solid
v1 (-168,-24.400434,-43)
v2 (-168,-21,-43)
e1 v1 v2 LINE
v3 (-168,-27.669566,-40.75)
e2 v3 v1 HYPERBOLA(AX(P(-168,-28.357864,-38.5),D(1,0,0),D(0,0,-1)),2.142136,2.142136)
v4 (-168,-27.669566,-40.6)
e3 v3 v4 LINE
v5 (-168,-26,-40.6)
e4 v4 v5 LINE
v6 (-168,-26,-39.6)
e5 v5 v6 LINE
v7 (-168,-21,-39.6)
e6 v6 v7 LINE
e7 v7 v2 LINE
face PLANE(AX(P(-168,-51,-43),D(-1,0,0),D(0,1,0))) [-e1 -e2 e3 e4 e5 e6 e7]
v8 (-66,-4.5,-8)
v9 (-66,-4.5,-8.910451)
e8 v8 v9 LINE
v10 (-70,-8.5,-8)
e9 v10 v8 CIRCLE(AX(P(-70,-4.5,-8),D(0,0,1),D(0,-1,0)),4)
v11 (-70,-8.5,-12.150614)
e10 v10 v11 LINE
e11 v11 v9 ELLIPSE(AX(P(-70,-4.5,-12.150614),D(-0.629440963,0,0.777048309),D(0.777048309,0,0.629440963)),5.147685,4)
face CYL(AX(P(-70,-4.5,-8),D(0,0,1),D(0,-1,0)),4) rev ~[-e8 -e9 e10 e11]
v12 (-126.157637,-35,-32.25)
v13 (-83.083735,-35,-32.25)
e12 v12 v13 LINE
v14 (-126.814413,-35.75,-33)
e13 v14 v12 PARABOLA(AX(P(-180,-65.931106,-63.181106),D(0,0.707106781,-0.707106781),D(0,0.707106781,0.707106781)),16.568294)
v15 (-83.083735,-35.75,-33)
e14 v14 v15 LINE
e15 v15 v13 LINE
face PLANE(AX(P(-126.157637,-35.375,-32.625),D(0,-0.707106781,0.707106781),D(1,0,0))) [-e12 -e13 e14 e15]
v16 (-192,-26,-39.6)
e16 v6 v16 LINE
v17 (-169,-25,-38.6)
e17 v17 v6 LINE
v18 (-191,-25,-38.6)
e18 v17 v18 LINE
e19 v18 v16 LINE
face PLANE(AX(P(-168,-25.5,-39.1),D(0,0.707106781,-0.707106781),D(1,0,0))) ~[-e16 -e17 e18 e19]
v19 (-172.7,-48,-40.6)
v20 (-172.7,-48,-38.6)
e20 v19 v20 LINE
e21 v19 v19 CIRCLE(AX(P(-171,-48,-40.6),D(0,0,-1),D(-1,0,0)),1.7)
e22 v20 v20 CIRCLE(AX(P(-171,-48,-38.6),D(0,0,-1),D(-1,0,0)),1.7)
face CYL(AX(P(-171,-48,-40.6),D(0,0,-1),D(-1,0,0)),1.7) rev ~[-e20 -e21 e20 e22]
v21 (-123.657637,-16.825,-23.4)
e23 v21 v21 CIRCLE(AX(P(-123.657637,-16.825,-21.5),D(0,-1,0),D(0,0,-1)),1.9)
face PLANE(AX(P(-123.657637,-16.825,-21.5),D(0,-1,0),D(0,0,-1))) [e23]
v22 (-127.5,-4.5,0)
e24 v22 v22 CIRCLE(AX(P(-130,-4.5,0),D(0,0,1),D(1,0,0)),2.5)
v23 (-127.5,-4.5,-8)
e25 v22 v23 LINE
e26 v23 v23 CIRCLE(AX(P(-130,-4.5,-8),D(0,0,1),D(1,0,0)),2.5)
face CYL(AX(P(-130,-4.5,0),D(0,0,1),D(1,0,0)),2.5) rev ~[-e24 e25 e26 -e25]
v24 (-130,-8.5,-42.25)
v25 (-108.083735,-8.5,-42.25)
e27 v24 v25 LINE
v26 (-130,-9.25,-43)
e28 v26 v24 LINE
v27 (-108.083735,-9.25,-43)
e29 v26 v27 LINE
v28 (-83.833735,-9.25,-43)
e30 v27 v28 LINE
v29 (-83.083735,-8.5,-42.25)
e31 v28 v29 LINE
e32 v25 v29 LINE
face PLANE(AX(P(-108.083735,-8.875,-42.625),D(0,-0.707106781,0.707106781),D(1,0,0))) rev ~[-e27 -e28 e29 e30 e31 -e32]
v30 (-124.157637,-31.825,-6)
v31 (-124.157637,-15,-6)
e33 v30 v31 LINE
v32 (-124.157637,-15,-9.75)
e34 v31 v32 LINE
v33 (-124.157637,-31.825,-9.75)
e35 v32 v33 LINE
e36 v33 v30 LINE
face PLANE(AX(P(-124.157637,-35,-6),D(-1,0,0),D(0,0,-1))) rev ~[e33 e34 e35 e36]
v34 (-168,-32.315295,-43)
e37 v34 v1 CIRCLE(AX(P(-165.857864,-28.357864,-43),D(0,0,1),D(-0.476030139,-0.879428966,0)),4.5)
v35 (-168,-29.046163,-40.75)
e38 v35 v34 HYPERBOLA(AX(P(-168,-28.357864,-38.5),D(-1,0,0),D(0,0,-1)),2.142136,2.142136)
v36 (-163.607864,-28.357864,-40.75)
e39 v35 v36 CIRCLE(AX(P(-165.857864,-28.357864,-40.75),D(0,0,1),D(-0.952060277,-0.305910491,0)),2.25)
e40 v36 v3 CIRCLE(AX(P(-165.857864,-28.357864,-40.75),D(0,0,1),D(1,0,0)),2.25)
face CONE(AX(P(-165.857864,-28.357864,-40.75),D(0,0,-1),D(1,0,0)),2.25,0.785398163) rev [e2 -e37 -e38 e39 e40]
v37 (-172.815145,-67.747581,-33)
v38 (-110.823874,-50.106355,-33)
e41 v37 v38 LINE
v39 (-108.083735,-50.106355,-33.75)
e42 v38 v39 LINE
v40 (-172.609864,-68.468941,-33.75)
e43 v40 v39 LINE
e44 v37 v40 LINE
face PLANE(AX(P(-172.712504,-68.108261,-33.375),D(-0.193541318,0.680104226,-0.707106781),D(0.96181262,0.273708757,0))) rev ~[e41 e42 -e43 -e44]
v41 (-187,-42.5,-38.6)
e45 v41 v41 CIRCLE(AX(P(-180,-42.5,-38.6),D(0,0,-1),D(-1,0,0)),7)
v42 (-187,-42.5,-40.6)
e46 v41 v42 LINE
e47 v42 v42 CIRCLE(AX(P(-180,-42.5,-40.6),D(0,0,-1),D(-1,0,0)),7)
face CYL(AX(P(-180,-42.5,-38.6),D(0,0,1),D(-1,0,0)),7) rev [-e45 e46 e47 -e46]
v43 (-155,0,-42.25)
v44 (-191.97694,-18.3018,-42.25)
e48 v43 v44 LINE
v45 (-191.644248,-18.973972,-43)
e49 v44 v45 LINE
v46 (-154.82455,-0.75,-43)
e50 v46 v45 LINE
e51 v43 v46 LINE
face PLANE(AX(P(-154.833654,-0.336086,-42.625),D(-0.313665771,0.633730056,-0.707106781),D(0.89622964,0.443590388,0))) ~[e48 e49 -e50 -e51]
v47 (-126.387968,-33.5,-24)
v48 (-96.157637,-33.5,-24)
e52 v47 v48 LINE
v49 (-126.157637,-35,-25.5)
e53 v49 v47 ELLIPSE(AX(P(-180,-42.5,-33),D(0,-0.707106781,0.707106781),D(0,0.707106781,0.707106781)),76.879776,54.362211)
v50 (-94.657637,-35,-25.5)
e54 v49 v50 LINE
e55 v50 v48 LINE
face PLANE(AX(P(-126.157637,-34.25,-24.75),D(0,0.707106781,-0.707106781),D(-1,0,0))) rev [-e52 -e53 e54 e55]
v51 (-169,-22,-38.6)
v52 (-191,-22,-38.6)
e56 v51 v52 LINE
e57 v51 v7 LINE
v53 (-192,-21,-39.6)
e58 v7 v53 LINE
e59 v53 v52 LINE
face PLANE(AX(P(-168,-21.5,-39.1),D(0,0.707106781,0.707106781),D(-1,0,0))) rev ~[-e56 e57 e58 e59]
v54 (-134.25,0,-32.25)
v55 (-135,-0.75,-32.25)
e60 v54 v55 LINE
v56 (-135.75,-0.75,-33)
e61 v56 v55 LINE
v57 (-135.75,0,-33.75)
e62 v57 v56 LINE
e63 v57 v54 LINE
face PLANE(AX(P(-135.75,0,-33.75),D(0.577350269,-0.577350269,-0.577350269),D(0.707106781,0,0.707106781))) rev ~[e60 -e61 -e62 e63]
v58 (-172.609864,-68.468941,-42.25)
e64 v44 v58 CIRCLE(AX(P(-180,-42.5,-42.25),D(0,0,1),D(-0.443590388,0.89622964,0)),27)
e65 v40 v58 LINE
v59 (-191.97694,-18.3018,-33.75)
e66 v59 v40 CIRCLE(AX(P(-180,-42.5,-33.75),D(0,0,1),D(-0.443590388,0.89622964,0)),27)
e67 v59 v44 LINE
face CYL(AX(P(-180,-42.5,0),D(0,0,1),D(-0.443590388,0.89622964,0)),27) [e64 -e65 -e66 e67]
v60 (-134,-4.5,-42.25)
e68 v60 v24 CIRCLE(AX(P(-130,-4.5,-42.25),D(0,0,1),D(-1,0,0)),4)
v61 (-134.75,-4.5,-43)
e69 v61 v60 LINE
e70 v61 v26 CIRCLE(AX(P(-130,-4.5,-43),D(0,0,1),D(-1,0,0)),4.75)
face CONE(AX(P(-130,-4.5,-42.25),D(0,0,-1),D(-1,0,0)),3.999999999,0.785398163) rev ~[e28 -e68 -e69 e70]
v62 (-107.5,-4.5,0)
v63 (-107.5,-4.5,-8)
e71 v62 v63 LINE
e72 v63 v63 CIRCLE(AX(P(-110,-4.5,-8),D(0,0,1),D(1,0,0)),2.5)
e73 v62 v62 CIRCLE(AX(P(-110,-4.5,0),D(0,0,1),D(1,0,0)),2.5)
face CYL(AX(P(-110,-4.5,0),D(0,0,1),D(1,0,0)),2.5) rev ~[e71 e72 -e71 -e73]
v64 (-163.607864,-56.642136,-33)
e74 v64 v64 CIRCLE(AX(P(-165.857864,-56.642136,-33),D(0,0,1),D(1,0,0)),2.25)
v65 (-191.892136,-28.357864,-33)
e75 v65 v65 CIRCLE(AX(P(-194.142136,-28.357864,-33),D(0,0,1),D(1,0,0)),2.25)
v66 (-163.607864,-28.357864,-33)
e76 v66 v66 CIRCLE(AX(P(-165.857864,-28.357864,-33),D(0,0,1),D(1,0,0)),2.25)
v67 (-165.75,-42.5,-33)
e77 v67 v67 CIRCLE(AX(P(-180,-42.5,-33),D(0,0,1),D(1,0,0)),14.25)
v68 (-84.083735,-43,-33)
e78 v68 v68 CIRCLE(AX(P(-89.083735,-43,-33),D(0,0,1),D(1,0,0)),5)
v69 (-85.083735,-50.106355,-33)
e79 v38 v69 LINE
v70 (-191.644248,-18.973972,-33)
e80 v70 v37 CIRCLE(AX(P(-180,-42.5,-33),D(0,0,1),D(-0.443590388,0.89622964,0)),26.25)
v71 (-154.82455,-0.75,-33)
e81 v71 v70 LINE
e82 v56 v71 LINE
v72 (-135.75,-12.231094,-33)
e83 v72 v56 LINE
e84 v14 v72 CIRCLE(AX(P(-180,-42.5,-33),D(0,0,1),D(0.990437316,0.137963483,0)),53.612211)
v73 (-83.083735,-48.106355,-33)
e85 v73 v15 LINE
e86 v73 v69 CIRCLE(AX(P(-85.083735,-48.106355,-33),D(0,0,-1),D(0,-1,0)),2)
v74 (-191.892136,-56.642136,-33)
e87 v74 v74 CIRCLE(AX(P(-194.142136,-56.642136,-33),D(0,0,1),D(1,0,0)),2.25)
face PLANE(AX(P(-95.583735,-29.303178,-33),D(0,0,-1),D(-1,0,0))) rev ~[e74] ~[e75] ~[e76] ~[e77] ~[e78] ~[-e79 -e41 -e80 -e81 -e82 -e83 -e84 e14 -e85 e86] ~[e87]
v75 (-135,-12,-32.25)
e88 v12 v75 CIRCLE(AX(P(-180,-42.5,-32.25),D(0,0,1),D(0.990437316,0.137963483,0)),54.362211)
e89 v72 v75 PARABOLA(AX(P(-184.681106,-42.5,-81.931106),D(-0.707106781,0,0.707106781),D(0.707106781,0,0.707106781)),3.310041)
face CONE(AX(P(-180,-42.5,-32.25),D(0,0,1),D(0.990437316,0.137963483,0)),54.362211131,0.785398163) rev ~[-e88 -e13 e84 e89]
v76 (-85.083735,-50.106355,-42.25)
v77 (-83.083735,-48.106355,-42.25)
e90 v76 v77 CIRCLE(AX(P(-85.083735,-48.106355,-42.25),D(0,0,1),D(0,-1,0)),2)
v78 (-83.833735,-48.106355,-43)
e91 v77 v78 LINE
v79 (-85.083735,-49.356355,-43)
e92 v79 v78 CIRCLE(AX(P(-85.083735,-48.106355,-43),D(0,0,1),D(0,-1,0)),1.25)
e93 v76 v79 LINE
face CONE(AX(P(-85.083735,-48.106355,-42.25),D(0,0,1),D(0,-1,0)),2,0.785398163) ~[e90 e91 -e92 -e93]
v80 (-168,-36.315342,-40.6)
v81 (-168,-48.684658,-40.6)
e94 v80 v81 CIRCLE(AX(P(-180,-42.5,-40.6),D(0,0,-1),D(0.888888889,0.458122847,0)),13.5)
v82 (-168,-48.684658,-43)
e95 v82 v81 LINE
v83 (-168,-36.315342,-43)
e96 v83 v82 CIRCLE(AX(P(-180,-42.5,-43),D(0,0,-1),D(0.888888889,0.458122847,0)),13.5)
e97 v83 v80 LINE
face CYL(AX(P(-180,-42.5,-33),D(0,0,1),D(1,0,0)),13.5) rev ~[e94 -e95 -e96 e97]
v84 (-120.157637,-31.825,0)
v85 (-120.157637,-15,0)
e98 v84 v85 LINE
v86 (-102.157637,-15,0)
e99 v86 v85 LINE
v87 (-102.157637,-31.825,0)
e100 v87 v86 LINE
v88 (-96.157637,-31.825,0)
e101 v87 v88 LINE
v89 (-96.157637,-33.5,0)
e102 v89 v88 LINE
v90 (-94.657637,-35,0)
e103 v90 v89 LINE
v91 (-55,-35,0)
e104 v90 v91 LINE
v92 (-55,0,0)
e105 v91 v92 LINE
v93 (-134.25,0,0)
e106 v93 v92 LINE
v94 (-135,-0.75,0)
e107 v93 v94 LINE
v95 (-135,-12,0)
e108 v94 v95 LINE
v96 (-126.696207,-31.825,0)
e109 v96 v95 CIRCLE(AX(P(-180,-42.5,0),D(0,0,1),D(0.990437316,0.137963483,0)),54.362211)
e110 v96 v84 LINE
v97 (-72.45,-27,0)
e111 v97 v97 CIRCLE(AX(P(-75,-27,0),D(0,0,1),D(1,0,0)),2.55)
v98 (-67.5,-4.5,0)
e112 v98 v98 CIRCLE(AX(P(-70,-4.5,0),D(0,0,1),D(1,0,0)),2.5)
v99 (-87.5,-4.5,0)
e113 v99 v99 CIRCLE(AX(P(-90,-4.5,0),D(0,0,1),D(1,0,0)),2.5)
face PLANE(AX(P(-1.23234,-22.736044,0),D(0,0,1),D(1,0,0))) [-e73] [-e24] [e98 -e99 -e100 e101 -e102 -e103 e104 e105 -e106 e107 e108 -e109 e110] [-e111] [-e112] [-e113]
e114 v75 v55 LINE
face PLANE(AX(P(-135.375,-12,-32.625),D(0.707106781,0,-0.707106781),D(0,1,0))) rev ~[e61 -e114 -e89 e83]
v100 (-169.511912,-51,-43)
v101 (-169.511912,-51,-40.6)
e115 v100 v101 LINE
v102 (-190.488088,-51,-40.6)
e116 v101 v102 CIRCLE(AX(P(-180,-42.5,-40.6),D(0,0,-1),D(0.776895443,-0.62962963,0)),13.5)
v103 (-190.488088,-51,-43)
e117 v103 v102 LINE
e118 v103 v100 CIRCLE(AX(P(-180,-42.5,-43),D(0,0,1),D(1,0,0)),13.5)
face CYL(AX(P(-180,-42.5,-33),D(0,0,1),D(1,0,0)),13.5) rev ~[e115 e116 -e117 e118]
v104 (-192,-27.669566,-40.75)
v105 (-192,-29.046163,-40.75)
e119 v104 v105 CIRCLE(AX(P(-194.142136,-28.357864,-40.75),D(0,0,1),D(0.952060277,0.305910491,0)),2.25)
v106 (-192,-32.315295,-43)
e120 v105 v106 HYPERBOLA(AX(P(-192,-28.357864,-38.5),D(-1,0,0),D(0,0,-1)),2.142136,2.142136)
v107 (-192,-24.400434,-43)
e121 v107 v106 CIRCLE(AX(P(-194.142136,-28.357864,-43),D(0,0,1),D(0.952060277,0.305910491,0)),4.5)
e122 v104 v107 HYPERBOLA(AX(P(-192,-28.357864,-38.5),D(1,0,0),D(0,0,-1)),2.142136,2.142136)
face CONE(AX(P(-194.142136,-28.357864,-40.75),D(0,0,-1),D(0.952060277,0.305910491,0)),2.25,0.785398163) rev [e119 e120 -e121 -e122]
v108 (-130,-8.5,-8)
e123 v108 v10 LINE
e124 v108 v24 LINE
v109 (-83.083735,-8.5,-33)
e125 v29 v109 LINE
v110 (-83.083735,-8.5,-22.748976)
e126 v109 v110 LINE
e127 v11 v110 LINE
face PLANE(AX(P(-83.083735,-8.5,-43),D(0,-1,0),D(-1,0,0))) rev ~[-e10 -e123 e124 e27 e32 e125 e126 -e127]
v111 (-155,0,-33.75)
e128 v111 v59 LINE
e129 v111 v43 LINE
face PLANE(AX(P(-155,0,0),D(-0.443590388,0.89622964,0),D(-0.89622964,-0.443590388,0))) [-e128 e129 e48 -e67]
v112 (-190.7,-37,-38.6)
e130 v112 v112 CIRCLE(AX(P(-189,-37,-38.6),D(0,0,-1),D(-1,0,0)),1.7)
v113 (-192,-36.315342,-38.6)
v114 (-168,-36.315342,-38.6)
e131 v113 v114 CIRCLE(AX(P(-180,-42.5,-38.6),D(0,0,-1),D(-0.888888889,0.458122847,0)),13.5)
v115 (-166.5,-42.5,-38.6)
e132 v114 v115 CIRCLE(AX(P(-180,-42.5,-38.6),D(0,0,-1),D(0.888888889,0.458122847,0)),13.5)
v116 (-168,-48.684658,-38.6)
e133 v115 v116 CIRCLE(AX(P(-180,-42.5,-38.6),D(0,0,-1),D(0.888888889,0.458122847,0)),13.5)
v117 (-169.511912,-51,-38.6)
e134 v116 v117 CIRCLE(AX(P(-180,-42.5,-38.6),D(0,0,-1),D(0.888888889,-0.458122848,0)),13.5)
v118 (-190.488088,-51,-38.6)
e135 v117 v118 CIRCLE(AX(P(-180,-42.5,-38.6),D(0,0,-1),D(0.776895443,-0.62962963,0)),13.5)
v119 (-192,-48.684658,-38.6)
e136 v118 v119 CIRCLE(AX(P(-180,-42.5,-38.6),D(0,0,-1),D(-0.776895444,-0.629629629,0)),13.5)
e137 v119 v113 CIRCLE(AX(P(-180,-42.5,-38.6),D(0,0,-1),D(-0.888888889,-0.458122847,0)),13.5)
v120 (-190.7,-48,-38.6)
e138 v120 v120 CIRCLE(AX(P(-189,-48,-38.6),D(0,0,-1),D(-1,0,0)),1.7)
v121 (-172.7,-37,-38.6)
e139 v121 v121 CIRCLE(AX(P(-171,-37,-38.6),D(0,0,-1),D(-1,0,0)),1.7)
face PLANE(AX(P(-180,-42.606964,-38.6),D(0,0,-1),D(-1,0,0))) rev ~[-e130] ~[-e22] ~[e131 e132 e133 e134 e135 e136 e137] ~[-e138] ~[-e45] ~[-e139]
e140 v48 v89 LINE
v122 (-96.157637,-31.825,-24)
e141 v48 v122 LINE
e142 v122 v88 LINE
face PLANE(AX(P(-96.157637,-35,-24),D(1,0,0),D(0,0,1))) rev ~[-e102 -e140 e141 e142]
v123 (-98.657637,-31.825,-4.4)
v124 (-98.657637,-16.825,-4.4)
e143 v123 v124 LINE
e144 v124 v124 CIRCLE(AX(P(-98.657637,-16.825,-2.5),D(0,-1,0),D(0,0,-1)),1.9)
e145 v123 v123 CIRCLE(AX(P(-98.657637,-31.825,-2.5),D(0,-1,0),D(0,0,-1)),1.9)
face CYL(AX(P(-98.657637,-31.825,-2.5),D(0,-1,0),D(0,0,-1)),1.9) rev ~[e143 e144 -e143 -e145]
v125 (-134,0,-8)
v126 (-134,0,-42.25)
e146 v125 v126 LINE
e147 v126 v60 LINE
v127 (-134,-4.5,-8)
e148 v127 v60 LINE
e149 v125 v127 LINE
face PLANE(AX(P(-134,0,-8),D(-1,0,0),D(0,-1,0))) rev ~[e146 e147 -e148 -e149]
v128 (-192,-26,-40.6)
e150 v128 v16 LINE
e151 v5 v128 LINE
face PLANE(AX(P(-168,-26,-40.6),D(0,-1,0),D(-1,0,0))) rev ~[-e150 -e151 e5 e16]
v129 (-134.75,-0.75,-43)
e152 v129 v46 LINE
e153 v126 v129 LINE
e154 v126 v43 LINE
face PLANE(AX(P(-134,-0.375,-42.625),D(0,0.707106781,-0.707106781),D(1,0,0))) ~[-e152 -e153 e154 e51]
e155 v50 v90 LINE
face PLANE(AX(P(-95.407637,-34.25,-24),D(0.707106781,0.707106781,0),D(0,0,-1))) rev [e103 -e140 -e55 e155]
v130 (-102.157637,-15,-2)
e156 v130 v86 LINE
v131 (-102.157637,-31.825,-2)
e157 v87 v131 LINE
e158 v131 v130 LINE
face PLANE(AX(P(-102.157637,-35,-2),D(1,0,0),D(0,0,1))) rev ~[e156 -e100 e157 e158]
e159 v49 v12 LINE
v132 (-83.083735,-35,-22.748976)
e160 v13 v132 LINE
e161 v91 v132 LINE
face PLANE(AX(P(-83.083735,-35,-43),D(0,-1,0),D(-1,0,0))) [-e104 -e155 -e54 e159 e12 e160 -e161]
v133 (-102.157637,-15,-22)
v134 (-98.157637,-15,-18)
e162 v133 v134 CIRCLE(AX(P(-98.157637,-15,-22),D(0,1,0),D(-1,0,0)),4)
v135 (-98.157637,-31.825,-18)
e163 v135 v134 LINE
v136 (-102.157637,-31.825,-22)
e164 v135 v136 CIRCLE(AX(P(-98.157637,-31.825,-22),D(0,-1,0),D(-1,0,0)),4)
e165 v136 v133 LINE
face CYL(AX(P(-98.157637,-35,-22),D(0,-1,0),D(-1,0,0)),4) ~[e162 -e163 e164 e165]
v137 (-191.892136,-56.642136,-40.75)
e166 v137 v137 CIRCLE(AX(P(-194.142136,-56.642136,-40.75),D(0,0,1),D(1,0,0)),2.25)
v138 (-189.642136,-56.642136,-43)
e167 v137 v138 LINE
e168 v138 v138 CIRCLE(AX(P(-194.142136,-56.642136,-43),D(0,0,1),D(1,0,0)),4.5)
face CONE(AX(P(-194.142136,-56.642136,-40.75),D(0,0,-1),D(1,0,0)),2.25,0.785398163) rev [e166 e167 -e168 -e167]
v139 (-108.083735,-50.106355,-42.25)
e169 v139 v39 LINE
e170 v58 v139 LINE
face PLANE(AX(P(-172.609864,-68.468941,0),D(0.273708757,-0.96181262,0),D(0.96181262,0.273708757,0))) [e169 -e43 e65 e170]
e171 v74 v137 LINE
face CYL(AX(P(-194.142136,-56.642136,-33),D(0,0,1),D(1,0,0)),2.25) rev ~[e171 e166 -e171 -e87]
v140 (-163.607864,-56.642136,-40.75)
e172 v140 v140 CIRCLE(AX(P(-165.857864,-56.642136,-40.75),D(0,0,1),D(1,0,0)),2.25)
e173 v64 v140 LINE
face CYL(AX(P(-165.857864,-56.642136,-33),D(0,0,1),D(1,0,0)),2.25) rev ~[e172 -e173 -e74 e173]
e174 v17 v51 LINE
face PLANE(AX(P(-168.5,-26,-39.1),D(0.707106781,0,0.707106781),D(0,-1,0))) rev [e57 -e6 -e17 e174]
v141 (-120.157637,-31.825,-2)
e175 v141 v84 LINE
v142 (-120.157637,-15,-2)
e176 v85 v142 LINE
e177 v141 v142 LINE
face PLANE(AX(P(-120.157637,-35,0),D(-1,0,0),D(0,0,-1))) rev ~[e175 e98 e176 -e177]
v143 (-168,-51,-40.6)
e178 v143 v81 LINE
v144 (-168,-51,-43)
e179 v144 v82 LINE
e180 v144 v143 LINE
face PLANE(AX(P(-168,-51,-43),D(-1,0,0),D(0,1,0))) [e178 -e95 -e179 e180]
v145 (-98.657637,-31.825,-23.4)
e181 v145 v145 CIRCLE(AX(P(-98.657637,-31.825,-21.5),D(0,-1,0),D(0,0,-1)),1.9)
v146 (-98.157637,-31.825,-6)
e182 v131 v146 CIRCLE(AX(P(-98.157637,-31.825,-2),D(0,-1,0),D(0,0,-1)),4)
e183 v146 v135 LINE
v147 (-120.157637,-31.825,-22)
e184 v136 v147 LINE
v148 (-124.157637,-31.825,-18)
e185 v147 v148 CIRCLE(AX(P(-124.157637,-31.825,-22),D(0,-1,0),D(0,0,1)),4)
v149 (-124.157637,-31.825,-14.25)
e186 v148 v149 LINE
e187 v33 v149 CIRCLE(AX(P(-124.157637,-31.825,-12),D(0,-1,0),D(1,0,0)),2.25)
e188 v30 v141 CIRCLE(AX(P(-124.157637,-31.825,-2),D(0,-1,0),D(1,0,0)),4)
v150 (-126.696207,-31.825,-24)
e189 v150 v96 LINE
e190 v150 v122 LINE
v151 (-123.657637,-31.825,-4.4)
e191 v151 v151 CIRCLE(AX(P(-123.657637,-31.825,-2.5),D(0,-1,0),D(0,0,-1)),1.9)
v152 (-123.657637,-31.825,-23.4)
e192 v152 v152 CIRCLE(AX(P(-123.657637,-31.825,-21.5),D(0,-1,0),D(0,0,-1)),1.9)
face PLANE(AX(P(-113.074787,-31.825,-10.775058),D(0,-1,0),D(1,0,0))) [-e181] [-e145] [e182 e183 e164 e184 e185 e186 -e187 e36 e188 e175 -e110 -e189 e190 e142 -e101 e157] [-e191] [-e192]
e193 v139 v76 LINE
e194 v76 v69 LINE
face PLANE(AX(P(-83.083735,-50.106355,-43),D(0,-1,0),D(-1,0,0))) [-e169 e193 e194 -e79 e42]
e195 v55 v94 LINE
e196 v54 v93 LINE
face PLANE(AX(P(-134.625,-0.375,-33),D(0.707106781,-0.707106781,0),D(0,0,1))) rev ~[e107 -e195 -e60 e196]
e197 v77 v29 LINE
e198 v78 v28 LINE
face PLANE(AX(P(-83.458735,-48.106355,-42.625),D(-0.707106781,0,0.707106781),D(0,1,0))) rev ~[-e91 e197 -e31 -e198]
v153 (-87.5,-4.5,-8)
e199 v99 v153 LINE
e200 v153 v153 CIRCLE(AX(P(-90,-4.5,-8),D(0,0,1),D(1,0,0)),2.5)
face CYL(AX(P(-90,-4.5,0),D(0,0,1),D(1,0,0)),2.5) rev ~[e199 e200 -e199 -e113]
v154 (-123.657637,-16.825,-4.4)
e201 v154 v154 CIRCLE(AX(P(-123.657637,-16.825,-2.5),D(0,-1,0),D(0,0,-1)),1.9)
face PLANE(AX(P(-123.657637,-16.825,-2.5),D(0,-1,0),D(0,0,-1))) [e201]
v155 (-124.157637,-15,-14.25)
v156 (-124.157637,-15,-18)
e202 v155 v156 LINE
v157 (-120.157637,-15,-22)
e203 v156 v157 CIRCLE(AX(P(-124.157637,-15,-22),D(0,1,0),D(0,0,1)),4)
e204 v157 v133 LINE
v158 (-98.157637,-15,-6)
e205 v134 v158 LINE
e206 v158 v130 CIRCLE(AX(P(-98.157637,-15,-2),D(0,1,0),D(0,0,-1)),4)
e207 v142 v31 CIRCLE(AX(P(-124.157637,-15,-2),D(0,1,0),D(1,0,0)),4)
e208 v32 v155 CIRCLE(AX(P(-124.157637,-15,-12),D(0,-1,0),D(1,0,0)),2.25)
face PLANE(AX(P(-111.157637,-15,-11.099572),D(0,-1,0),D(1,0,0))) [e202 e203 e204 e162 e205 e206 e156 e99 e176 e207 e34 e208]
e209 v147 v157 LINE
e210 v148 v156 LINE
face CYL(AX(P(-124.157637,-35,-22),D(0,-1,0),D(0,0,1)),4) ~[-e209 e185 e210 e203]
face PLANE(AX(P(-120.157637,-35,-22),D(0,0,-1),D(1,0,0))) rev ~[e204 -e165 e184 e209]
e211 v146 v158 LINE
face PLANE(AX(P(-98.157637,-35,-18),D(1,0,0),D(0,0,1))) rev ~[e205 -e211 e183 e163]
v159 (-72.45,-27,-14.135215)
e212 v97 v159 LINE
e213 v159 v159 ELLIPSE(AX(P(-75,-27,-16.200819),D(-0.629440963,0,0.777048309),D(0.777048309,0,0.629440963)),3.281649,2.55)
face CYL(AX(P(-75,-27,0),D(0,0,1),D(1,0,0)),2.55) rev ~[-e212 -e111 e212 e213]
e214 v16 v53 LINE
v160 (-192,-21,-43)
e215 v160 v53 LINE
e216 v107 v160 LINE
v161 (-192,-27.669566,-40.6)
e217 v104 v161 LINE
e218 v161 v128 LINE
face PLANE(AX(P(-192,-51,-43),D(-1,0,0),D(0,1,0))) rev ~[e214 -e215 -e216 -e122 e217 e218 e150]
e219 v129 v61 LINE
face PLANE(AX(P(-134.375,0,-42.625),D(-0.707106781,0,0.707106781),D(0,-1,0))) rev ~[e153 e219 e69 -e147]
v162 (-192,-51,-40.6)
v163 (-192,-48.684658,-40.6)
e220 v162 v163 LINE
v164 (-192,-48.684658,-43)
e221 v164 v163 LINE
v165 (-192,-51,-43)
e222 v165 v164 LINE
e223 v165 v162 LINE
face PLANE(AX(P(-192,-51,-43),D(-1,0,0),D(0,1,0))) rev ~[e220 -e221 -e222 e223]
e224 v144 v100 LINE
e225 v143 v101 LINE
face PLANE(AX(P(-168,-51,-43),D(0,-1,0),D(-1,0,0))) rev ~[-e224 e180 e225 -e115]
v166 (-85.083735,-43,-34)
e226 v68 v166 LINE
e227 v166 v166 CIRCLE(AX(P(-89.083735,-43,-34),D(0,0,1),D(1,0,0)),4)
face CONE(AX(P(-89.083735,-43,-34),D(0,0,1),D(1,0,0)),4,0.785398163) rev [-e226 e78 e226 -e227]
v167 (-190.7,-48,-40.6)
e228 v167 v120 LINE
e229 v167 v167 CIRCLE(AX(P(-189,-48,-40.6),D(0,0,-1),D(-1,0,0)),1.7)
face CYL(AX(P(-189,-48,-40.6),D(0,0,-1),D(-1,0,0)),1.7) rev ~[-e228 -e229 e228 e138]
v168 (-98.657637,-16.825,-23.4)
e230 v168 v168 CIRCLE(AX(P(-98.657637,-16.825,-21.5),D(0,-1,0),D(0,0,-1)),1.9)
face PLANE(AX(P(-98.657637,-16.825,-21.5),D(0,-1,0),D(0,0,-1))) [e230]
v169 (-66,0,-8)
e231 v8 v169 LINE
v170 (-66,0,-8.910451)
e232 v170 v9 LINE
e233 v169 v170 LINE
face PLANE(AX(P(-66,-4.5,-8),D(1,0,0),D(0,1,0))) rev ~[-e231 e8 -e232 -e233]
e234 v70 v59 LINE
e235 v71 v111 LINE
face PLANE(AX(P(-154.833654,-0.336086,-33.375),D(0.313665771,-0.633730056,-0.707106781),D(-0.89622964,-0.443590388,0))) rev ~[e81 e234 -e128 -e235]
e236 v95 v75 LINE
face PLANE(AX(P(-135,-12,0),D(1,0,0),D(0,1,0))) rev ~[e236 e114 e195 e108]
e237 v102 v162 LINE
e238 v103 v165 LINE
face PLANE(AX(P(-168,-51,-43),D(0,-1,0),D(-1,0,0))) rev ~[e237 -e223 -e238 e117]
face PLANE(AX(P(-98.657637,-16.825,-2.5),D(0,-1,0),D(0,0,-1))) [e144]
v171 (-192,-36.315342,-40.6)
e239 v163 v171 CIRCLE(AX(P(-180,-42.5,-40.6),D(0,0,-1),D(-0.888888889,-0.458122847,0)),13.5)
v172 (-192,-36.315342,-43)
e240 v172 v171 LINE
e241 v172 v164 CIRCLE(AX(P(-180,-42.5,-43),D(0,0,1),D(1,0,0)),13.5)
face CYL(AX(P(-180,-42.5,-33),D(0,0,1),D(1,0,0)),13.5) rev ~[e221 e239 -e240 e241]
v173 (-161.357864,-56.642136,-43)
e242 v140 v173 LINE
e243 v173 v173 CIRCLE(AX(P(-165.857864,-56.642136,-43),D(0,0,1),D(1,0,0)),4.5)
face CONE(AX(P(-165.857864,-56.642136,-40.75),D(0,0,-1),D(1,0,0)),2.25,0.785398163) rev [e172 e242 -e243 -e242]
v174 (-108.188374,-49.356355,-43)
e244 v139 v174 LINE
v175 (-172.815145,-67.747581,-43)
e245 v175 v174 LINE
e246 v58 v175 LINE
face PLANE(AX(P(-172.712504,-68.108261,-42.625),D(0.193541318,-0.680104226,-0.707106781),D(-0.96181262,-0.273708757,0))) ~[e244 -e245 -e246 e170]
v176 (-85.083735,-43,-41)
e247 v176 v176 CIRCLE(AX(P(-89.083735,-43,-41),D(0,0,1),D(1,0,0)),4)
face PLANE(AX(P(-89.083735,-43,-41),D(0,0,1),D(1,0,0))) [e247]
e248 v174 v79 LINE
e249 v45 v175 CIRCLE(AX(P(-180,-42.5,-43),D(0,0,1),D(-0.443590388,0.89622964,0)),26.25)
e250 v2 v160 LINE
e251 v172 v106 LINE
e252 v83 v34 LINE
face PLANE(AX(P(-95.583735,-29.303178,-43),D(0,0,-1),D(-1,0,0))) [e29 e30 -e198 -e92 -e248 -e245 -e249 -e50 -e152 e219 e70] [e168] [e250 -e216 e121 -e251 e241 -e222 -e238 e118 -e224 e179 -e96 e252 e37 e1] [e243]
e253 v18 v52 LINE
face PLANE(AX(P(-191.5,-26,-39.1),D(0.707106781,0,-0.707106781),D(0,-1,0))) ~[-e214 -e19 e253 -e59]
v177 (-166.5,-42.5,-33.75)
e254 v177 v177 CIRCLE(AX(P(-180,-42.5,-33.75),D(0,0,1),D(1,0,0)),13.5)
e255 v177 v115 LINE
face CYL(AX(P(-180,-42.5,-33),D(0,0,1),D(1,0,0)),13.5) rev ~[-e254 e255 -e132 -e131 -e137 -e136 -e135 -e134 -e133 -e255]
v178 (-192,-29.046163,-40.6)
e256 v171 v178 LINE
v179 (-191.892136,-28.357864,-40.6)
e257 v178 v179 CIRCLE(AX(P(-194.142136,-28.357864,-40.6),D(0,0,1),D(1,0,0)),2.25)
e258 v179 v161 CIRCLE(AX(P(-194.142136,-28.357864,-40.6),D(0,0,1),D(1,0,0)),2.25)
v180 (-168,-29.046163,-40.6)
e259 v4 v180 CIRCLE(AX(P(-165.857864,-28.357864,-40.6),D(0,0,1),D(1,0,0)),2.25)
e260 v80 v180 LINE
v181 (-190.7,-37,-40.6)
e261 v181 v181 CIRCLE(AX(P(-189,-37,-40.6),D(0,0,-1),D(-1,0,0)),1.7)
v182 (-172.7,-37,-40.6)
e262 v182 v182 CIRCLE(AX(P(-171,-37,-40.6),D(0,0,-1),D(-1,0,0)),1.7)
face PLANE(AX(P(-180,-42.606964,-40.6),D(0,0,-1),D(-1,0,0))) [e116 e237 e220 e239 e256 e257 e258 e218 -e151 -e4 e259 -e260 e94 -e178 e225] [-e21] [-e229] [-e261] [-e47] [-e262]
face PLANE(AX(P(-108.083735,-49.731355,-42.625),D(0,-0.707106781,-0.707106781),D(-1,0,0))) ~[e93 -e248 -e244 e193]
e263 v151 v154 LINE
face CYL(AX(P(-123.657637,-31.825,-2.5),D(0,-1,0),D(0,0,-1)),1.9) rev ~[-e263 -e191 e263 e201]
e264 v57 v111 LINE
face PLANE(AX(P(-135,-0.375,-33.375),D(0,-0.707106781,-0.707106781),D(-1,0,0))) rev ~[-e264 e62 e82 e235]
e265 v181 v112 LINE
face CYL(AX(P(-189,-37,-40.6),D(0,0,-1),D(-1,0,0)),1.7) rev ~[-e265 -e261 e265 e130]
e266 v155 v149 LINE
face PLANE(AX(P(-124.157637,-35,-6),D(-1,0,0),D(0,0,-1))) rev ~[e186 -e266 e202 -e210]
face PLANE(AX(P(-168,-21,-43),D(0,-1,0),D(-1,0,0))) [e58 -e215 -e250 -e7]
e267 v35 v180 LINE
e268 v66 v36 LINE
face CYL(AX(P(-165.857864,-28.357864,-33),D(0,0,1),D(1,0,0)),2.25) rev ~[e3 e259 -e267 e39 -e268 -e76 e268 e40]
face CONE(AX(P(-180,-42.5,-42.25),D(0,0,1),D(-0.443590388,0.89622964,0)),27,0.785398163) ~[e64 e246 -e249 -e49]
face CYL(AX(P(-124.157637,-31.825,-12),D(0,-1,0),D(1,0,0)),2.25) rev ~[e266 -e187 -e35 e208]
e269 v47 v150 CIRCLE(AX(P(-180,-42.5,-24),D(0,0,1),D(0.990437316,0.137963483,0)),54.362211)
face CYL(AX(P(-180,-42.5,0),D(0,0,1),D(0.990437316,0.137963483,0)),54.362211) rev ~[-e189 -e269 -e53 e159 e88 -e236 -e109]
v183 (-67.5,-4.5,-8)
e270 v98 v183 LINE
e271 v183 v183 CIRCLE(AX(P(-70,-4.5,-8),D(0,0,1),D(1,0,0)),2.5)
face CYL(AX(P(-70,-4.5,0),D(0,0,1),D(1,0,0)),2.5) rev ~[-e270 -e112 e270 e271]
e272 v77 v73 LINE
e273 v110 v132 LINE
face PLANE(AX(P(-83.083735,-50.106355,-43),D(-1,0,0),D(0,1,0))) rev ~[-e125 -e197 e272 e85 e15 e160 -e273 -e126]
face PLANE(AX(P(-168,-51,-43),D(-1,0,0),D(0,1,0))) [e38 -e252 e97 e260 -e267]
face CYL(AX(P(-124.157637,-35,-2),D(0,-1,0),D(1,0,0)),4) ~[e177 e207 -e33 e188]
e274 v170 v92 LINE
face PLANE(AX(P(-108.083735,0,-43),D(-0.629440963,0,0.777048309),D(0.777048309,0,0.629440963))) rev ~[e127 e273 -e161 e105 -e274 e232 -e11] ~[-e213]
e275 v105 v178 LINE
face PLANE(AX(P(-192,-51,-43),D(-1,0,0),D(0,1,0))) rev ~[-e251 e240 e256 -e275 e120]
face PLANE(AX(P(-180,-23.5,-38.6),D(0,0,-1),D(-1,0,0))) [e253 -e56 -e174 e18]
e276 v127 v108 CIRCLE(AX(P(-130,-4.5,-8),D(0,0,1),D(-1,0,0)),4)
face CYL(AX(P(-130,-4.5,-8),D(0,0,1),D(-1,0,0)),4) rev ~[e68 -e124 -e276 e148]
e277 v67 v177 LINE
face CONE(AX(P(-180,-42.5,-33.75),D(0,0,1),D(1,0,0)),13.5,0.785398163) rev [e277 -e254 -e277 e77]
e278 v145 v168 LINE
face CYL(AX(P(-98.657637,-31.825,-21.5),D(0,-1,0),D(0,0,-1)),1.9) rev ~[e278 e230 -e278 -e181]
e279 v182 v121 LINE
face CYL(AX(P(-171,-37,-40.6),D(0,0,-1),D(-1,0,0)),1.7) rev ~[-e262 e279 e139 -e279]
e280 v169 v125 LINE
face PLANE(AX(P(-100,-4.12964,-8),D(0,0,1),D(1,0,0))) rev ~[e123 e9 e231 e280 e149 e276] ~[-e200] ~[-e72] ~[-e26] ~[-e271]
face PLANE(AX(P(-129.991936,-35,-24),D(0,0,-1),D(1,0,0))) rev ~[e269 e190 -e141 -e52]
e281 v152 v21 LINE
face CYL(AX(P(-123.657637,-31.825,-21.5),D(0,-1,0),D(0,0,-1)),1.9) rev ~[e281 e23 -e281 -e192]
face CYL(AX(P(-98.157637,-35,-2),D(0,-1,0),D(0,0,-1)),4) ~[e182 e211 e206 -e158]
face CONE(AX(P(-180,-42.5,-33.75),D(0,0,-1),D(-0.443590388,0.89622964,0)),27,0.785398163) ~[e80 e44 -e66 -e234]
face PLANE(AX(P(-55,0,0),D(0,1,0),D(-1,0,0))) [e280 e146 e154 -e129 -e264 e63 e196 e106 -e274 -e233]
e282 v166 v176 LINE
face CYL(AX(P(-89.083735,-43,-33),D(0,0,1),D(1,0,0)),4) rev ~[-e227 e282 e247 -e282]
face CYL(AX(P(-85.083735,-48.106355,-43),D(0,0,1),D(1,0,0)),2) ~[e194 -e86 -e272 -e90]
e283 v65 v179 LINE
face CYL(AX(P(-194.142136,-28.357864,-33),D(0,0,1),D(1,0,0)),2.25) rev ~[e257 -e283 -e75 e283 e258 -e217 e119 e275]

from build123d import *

# Parameters (mm, degrees)
SKETCH1_W           = 270
SKETCH1_H           = 35
BOSS_EXTRUDE1_DEPTH = 10
SKETCH2_W           = 270
SKETCH2_H           = 26
BOSS_EXTRUDE2_DEPTH = 1
CUT_EXTRUDE1_REACH  = 141.821
SKETCH3_R           = 2.55
CUT_EXTRUDE3_REACH  = 141.896
SKETCH4_R           = 8
SKETCH5_R           = 10
CUT_EXTRUDE4_DEPTH  = 1.5
CUT_EXTRUDE5_START  = -1.5
SKETCH6_R           = 10
CUT_EXTRUDE5_DEPTH  = 1.5
BOSS_EXTRUDE3_DEPTH = 43
CUT_EXTRUDE7_DEPTH  = 11
CUT_EXTRUDE8_DEPTH  = 33
SKETCH11_R          = 13.5
SKETCH11_R_2        = 2.25
CUT_EXTRUDE9_DEPTH  = 223.744809143
CUT_EXTRUDE10_REACH = 224.549
SKETCH13_W          = 24
SKETCH13_H          = 30
CUT_EXTRUDE11_DEPTH = 2.4
BOSS_EXTRUDE4_START = -2
SKETCH14_R          = 7
BOSS_EXTRUDE4_DEPTH = 2
CUT_EXTRUDE12_REACH = 226.37
SKETCH16_R          = 1.7
SKETCH17_W          = 24
SKETCH17_H          = 5
CUT_EXTRUDE13_DEPTH = 2
CHAMFER1_SIZE       = 1
CUT_EXTRUDE15_REACH = 224.549
SKETCH20_R          = 2.5
SKETCH18_W          = 295.252066252
SKETCH18_H          = 62.982253344
CUT_EXTRUDE14_DEPTH = 11
CUT_EXTRUDE16_REACH = 232.549
CUT_EXTRUDE16_START = -8
SKETCH26_W          = 25
SKETCH26_H          = 41.606355273
BOSS_EXTRUDE6_DEPTH = 10
SKETCH27_R          = 4
CUT_EXTRUDE19_DEPTH = 8
FILLET1_R           = 2
CUT_EXTRUDE20_DEPTH = 20
SKETCH29_W          = 33.834298197
SKETCH29_H          = 26.449884055
CUT_EXTRUDE21_DEPTH = 3.175
SKETCH30_R          = 1.9
CUT_EXTRUDE22_DEPTH = 15
SKETCH31_R          = 2.25
CUT_EXTRUDE23_DEPTH = 16.825
CUT_EXTRUDE24_REACH = 224.549
SKETCH32_R          = 2.55
BOSS_EXTRUDE7_REACH = 224.549
SKETCH34_W          = 12.654945339
SKETCH34_H          = 26.5
CHAMFER2_SIZE       = 2.25
CHAMFER3_SIZE       = 1
CHAMFER4_SIZE       = 0.75
CHAMFER6_SIZE       = 1.5


with BuildPart() as part:
    # Sketch1 → Boss-Extrude1 (new body)
    with BuildSketch(Plane.XY):
        with Locations((0, -17.5)):
            Rectangle(SKETCH1_W, SKETCH1_H)
    extrude(amount=BOSS_EXTRUDE1_DEPTH)

    # Sketch2 → Boss-Extrude2 (add)
    with BuildSketch(Plane.XY.offset(10)):
        with Locations((0, -22)):
            Rectangle(SKETCH2_W, SKETCH2_H)
    extrude(amount=BOSS_EXTRUDE2_DEPTH)

    # Sketch3 → Cut-Extrude1 (cut, up to next)
    with BuildSketch(Plane.XY.offset(10), mode=Mode.PRIVATE) as cut_extrude1_sk1:
        with Locations((-130, -4.5)):
            Circle(SKETCH3_R)
    cut_extrude1_tool1 = extrude(cut_extrude1_sk1.sketch, amount=-CUT_EXTRUDE1_REACH, mode=Mode.PRIVATE) & part.part
    # Sketch3 → Cut-Extrude1 (cut, up to next)
    with BuildSketch(Plane.XY.offset(10), mode=Mode.PRIVATE) as cut_extrude1_sk2:
        with Locations((-110, -4.5)):
            Circle(SKETCH3_R)
    cut_extrude1_tool2 = extrude(cut_extrude1_sk2.sketch, amount=-CUT_EXTRUDE1_REACH, mode=Mode.PRIVATE) & part.part
    # Sketch3 → Cut-Extrude1 (cut, up to next)
    with BuildSketch(Plane.XY.offset(10), mode=Mode.PRIVATE) as cut_extrude1_sk3:
        with Locations((-90, -4.5)):
            Circle(SKETCH3_R)
    cut_extrude1_tool3 = extrude(cut_extrude1_sk3.sketch, amount=-CUT_EXTRUDE1_REACH, mode=Mode.PRIVATE) & part.part
    # Sketch3 → Cut-Extrude1 (cut, up to next)
    with BuildSketch(Plane.XY.offset(10), mode=Mode.PRIVATE) as cut_extrude1_sk4:
        with Locations((-70, -4.5)):
            Circle(SKETCH3_R)
    cut_extrude1_tool4 = extrude(cut_extrude1_sk4.sketch, amount=-CUT_EXTRUDE1_REACH, mode=Mode.PRIVATE) & part.part
    # Sketch3 → Cut-Extrude1 (cut, up to next)
    with BuildSketch(Plane.XY.offset(10), mode=Mode.PRIVATE) as cut_extrude1_sk5:
        with Locations((-50, -4.5)):
            Circle(SKETCH3_R)
    cut_extrude1_tool5 = extrude(cut_extrude1_sk5.sketch, amount=-CUT_EXTRUDE1_REACH, mode=Mode.PRIVATE) & part.part
    # Sketch3 → Cut-Extrude1 (cut, up to next)
    with BuildSketch(Plane.XY.offset(10), mode=Mode.PRIVATE) as cut_extrude1_sk6:
        with Locations((-30, -4.5)):
            Circle(SKETCH3_R)
    cut_extrude1_tool6 = extrude(cut_extrude1_sk6.sketch, amount=-CUT_EXTRUDE1_REACH, mode=Mode.PRIVATE) & part.part
    # Sketch3 → Cut-Extrude1 (cut, up to next)
    with BuildSketch(Plane.XY.offset(10), mode=Mode.PRIVATE) as cut_extrude1_sk7:
        with Locations((-10, -4.5)):
            Circle(SKETCH3_R)
    cut_extrude1_tool7 = extrude(cut_extrude1_sk7.sketch, amount=-CUT_EXTRUDE1_REACH, mode=Mode.PRIVATE) & part.part
    # Sketch3 → Cut-Extrude1 (cut, up to next)
    with BuildSketch(Plane.XY.offset(10), mode=Mode.PRIVATE) as cut_extrude1_sk8:
        with Locations((10, -4.5)):
            Circle(SKETCH3_R)
    cut_extrude1_tool8 = extrude(cut_extrude1_sk8.sketch, amount=-CUT_EXTRUDE1_REACH, mode=Mode.PRIVATE) & part.part
    # Sketch3 → Cut-Extrude1 (cut, up to next)
    with BuildSketch(Plane.XY.offset(10), mode=Mode.PRIVATE) as cut_extrude1_sk9:
        with Locations((30, -4.5)):
            Circle(SKETCH3_R)
    cut_extrude1_tool9 = extrude(cut_extrude1_sk9.sketch, amount=-CUT_EXTRUDE1_REACH, mode=Mode.PRIVATE) & part.part
    # Sketch3 → Cut-Extrude1 (cut, up to next)
    with BuildSketch(Plane.XY.offset(10), mode=Mode.PRIVATE) as cut_extrude1_sk10:
        with Locations((50, -4.5)):
            Circle(SKETCH3_R)
    cut_extrude1_tool10 = extrude(cut_extrude1_sk10.sketch, amount=-CUT_EXTRUDE1_REACH, mode=Mode.PRIVATE) & part.part
    # Sketch3 → Cut-Extrude1 (cut, up to next)
    with BuildSketch(Plane.XY.offset(10), mode=Mode.PRIVATE) as cut_extrude1_sk11:
        with Locations((70, -4.5)):
            Circle(SKETCH3_R)
    cut_extrude1_tool11 = extrude(cut_extrude1_sk11.sketch, amount=-CUT_EXTRUDE1_REACH, mode=Mode.PRIVATE) & part.part
    # Sketch3 → Cut-Extrude1 (cut, up to next)
    with BuildSketch(Plane.XY.offset(10), mode=Mode.PRIVATE) as cut_extrude1_sk12:
        with Locations((90, -4.5)):
            Circle(SKETCH3_R)
    cut_extrude1_tool12 = extrude(cut_extrude1_sk12.sketch, amount=-CUT_EXTRUDE1_REACH, mode=Mode.PRIVATE) & part.part
    add(cut_extrude1_tool1.solids().sort_by_distance((-130, -4.5, 10))[0], mode=Mode.SUBTRACT)
    add(cut_extrude1_tool2.solids().sort_by_distance((-110, -4.5, 10))[0], mode=Mode.SUBTRACT)
    add(cut_extrude1_tool3.solids().sort_by_distance((-90, -4.5, 10))[0], mode=Mode.SUBTRACT)
    add(cut_extrude1_tool4.solids().sort_by_distance((-70, -4.5, 10))[0], mode=Mode.SUBTRACT)
    add(cut_extrude1_tool5.solids().sort_by_distance((-50, -4.5, 10))[0], mode=Mode.SUBTRACT)
    add(cut_extrude1_tool6.solids().sort_by_distance((-30, -4.5, 10))[0], mode=Mode.SUBTRACT)
    add(cut_extrude1_tool7.solids().sort_by_distance((-10, -4.5, 10))[0], mode=Mode.SUBTRACT)
    add(cut_extrude1_tool8.solids().sort_by_distance((10, -4.5, 10))[0], mode=Mode.SUBTRACT)
    add(cut_extrude1_tool9.solids().sort_by_distance((30, -4.5, 10))[0], mode=Mode.SUBTRACT)
    add(cut_extrude1_tool10.solids().sort_by_distance((50, -4.5, 10))[0], mode=Mode.SUBTRACT)
    add(cut_extrude1_tool11.solids().sort_by_distance((70, -4.5, 10))[0], mode=Mode.SUBTRACT)
    add(cut_extrude1_tool12.solids().sort_by_distance((90, -4.5, 10))[0], mode=Mode.SUBTRACT)

    # Sketch4 → Cut-Extrude3 (cut, up to next)
    with BuildSketch(Plane.XY.offset(11), mode=Mode.PRIVATE) as cut_extrude3_sk1:
        with Locations((123, -20.5)):
            Circle(SKETCH4_R)
    cut_extrude3_tool1 = extrude(cut_extrude3_sk1.sketch, amount=-CUT_EXTRUDE3_REACH, mode=Mode.PRIVATE) & part.part
    add(cut_extrude3_tool1.solids().sort_by_distance((123, -20.5, 11))[0], mode=Mode.SUBTRACT)

    # Sketch5 → Cut-Extrude4 (cut)
    with BuildSketch(Plane.XY.offset(11)):
        with Locations((123, -20.5)):
            Circle(SKETCH5_R)
    extrude(amount=-CUT_EXTRUDE4_DEPTH, mode=Mode.SUBTRACT)

    # Sketch6 → Cut-Extrude5 (cut)
    with BuildSketch(Plane(origin=(0, 0, 0), x_dir=(-1, 0, 0), z_dir=(0, 0, -1)).offset(CUT_EXTRUDE5_START)):
        with Locations(Location((-123, -20.5, 0), (0, 0, 180))):
            Circle(SKETCH6_R)
    extrude(amount=CUT_EXTRUDE5_DEPTH, mode=Mode.SUBTRACT)

    # Sketch8 → Boss-Extrude3 (add)
    with BuildSketch(Plane(origin=(0, 0, 0), x_dir=(-1, 0, 0), z_dir=(0, 0, -1))):
        with BuildLine():
            Line((135, 0), (155, 0))
            Line((155, 0), (191.976940477, -18.30179972))
            ThreePointArc((191.976940477, -18.30179972), (205.188195696, -52.223929122), (172.609863555, -68.468940743))
            Line((172.609863555, -68.468940743), (55, -35))
            Line((55, -35), (55, 0))
            Line((55, 0), (135, 0))
        make_face()
    extrude(amount=BOSS_EXTRUDE3_DEPTH)

    # Sketch9 → Cut-Extrude7 (cut)
    with BuildSketch(Plane.XY.offset(11)):
        with BuildLine():
            Line((-135, -12), (-135, -35))
            Line((-135, -35), (-126.157637496, -35))
            ThreePointArc((-126.157637496, -35), (-129.258467146, -22.992390109), (-135, -12))
        make_face()
    extrude(amount=-CUT_EXTRUDE7_DEPTH, mode=Mode.SUBTRACT)

    # Sketch10 → Cut-Extrude8 (cut)
    with BuildSketch(Plane.XY):
        with BuildLine():
            Line((-135, 0), (-155, 0))
            Line((-155, 0), (-191.976940477, -18.30179972))
            ThreePointArc((-191.976940477, -18.30179972), (-205.188195696, -52.223929122), (-172.609863555, -68.468940743))
            Line((-172.609863555, -68.468940743), (-55, -35))
            Line((-55, -35), (-126.157637496, -35))
            ThreePointArc((-126.157637496, -35), (-129.258467146, -22.992390109), (-135, -12))
            Line((-135, -12), (-135, 0))
        make_face()
    extrude(amount=-CUT_EXTRUDE8_DEPTH, mode=Mode.SUBTRACT)

    # Sketch11 → Cut-Extrude9 (cut, through all)
    with BuildSketch(Plane.XY.offset(-33)):
        with Locations((-180, -42.5)):
            Circle(SKETCH11_R)
        with Locations((-165.857864376, -56.642135624)):
            Circle(SKETCH11_R_2)
        with Locations((-194.142135624, -56.642135624)):
            Circle(SKETCH11_R_2)
        with Locations((-194.142135624, -28.357864376)):
            Circle(SKETCH11_R_2)
        with Locations((-165.857864376, -28.357864376)):
            Circle(SKETCH11_R_2)
    extrude(amount=-CUT_EXTRUDE9_DEPTH, mode=Mode.SUBTRACT)

    # Sketch12 → Cut-Extrude10 (cut, up to next)
    with BuildSketch(Plane(origin=(0, 0, 0), x_dir=(1, 0, 0), z_dir=(0, 1, 0)), mode=Mode.PRIVATE) as cut_extrude10_sk1:
        Polygon((-108.083735041, 43), (-55, 0), (-55, 43), align=None)
    cut_extrude10_tool1 = extrude(cut_extrude10_sk1.sketch, amount=-CUT_EXTRUDE10_REACH, mode=Mode.PRIVATE) & part.part
    add(cut_extrude10_tool1.solids().sort_by_distance((-72.694578, 0, -28.666667))[0], mode=Mode.SUBTRACT)

    # Sketch13 → Cut-Extrude11 (cut)
    with BuildSketch(Plane(origin=(0, 0, -43), x_dir=(-1, 0, 0), z_dir=(0, 0, -1))):
        with Locations((180, -36)):
            Rectangle(SKETCH13_W, SKETCH13_H)
    extrude(amount=-CUT_EXTRUDE11_DEPTH, mode=Mode.SUBTRACT)

    # Sketch14 → Boss-Extrude4 (add)
    with BuildSketch(Plane(origin=(0, 0, -40.6), x_dir=(-1, 0, 0), z_dir=(0, 0, -1)).offset(BOSS_EXTRUDE4_START)):
        with BuildLine():
            ThreePointArc((192, -36.315341562), (180, -29), (168, -36.315341562))
            ThreePointArc((168, -36.315341562), (166.5, -42.5), (168, -48.684658438))
            ThreePointArc((168, -48.684658438), (168.696516797, -49.881142694), (169.511911518, -51))
            ThreePointArc((169.511911518, -51), (180, -56), (190.488088482, -51))
            ThreePointArc((190.488088482, -51), (191.303483203, -49.881142694), (192, -48.684658438))
            ThreePointArc((192, -48.684658438), (193.5, -42.5), (192, -36.315341562))
        make_face()
        with Locations((180, -42.5)):
            Circle(SKETCH14_R, mode=Mode.SUBTRACT)
    extrude(amount=BOSS_EXTRUDE4_DEPTH)

    # Sketch16 → Cut-Extrude12 (cut, up to next)
    with BuildSketch(Plane(origin=(0, 0, -40.6), x_dir=(-1, 0, 0), z_dir=(0, 0, -1)), mode=Mode.PRIVATE) as cut_extrude12_sk1:
        with Locations((171, -37)):
            Circle(SKETCH16_R)
    cut_extrude12_tool1 = extrude(cut_extrude12_sk1.sketch, amount=-CUT_EXTRUDE12_REACH, mode=Mode.PRIVATE) & part.part
    # Sketch16 → Cut-Extrude12 (cut, up to next)
    with BuildSketch(Plane(origin=(0, 0, -40.6), x_dir=(-1, 0, 0), z_dir=(0, 0, -1)), mode=Mode.PRIVATE) as cut_extrude12_sk2:
        with Locations((189, -37)):
            Circle(SKETCH16_R)
    cut_extrude12_tool2 = extrude(cut_extrude12_sk2.sketch, amount=-CUT_EXTRUDE12_REACH, mode=Mode.PRIVATE) & part.part
    # Sketch16 → Cut-Extrude12 (cut, up to next)
    with BuildSketch(Plane(origin=(0, 0, -40.6), x_dir=(-1, 0, 0), z_dir=(0, 0, -1)), mode=Mode.PRIVATE) as cut_extrude12_sk3:
        with Locations((189, -48)):
            Circle(SKETCH16_R)
    cut_extrude12_tool3 = extrude(cut_extrude12_sk3.sketch, amount=-CUT_EXTRUDE12_REACH, mode=Mode.PRIVATE) & part.part
    # Sketch16 → Cut-Extrude12 (cut, up to next)
    with BuildSketch(Plane(origin=(0, 0, -40.6), x_dir=(-1, 0, 0), z_dir=(0, 0, -1)), mode=Mode.PRIVATE) as cut_extrude12_sk4:
        with Locations((171, -48)):
            Circle(SKETCH16_R)
    cut_extrude12_tool4 = extrude(cut_extrude12_sk4.sketch, amount=-CUT_EXTRUDE12_REACH, mode=Mode.PRIVATE) & part.part
    add(cut_extrude12_tool1.solids().sort_by_distance((-171, -37, -40.6))[0], mode=Mode.SUBTRACT)
    add(cut_extrude12_tool2.solids().sort_by_distance((-189, -37, -40.6))[0], mode=Mode.SUBTRACT)
    add(cut_extrude12_tool3.solids().sort_by_distance((-189, -48, -40.6))[0], mode=Mode.SUBTRACT)
    add(cut_extrude12_tool4.solids().sort_by_distance((-171, -48, -40.6))[0], mode=Mode.SUBTRACT)

    # Sketch17 → Cut-Extrude13 (cut)
    with BuildSketch(Plane(origin=(0, 0, -40.6), x_dir=(-1, 0, 0), z_dir=(0, 0, -1))):
        with Locations((180, -23.5)):
            Rectangle(SKETCH17_W, SKETCH17_H)
    extrude(amount=-CUT_EXTRUDE13_DEPTH, mode=Mode.SUBTRACT)

    # Chamfer1
    chamfer1_edges = [part.edges().sort_by_distance(p)[0] for p in [
        (-168, -23.5, -38.6),
        (-180, -21, -38.6),
        (-192, -23.5, -38.6),
        (-180, -26, -38.6),
    ]]
    chamfer(chamfer1_edges, length=CHAMFER1_SIZE)

    # Sketch20 → Cut-Extrude15 (cut, up to next)
    with BuildSketch(Plane.XY, mode=Mode.PRIVATE) as cut_extrude15_sk1:
        with Locations((-130, -4.5)):
            Circle(SKETCH20_R)
    cut_extrude15_tool1 = extrude(cut_extrude15_sk1.sketch, amount=-CUT_EXTRUDE15_REACH, mode=Mode.PRIVATE) & part.part
    # Sketch20 → Cut-Extrude15 (cut, up to next)
    with BuildSketch(Plane.XY, mode=Mode.PRIVATE) as cut_extrude15_sk2:
        with Locations((-110, -4.5)):
            Circle(SKETCH20_R)
    cut_extrude15_tool2 = extrude(cut_extrude15_sk2.sketch, amount=-CUT_EXTRUDE15_REACH, mode=Mode.PRIVATE) & part.part
    # Sketch20 → Cut-Extrude15 (cut, up to next)
    with BuildSketch(Plane.XY, mode=Mode.PRIVATE) as cut_extrude15_sk3:
        with Locations((-90, -4.5)):
            Circle(SKETCH20_R)
    cut_extrude15_tool3 = extrude(cut_extrude15_sk3.sketch, amount=-CUT_EXTRUDE15_REACH, mode=Mode.PRIVATE) & part.part
    # Sketch20 → Cut-Extrude15 (cut, up to next)
    with BuildSketch(Plane.XY, mode=Mode.PRIVATE) as cut_extrude15_sk4:
        with Locations((-70, -4.5)):
            Circle(SKETCH20_R)
    cut_extrude15_tool4 = extrude(cut_extrude15_sk4.sketch, amount=-CUT_EXTRUDE15_REACH, mode=Mode.PRIVATE) & part.part
    add(cut_extrude15_tool1.solids().sort_by_distance((-130, -4.5, 0))[0], mode=Mode.SUBTRACT)
    add(cut_extrude15_tool2.solids().sort_by_distance((-110, -4.5, 0))[0], mode=Mode.SUBTRACT)
    add(cut_extrude15_tool3.solids().sort_by_distance((-90, -4.5, 0))[0], mode=Mode.SUBTRACT)
    add(cut_extrude15_tool4.solids().sort_by_distance((-70, -4.5, 0))[0], mode=Mode.SUBTRACT)

    # Sketch18 → Cut-Extrude14 (cut)
    with BuildSketch(Plane.XY.offset(11)):
        with Locations((-1.232339917, -22.73604416)):
            Rectangle(SKETCH18_W, SKETCH18_H)
    extrude(amount=-CUT_EXTRUDE14_DEPTH, mode=Mode.SUBTRACT)

    # Sketch21 → Cut-Extrude16 (cut, up to next)
    with BuildSketch(Plane.XY.offset(CUT_EXTRUDE16_START), mode=Mode.PRIVATE) as cut_extrude16_sk1:
        with BuildLine():
            Line((-130, -8.5), (-70, -8.5))
            ThreePointArc((-70, -8.5), (-67.171572875, -7.328427125), (-66, -4.5))
            Line((-66, -4.5), (-66, 0))
            Line((-66, 0), (-134, 0))
            Line((-134, 0), (-134, -4.5))
            ThreePointArc((-134, -4.5), (-132.828427125, -7.328427125), (-130, -8.5))
        make_face()
    cut_extrude16_tool1 = extrude(cut_extrude16_sk1.sketch, amount=-CUT_EXTRUDE16_REACH, mode=Mode.PRIVATE) & part.part
    add(cut_extrude16_tool1.solids().sort_by_distance((-100, -4.209641, -8))[0], mode=Mode.SUBTRACT)

    # Sketch26 → Boss-Extrude6 (add)
    with BuildSketch(Plane(origin=(0, 0, -43), x_dir=(-1, 0, 0), z_dir=(0, 0, -1))):
        with Locations((95.583735041, -29.303177637)):
            Rectangle(SKETCH26_W, SKETCH26_H)
    extrude(amount=-BOSS_EXTRUDE6_DEPTH)

    # Sketch27 → Cut-Extrude19 (cut)
    with BuildSketch(Plane.XY.offset(-33)):
        with Locations((-89.083735041, -43)):
            Circle(SKETCH27_R)
    extrude(amount=-CUT_EXTRUDE19_DEPTH, mode=Mode.SUBTRACT)

    # Fillet1
    fillet1_edges = [part.edges().sort_by_distance(p)[0] for p in [
        (-83.083735041, -50.106355273, -38),
    ]]
    fillet(fillet1_edges, radius=FILLET1_R)

    # Sketch28 → Cut-Extrude20 (cut)
    with BuildSketch(Plane.XZ.offset(35)):
        with BuildLine():
            Line((-124.157637496, -6), (-124.157637496, -18))
            ThreePointArc((-124.157637496, -18), (-121.329210371, -19.171572875), (-120.157637496, -22))
            Line((-120.157637496, -22), (-102.157637496, -22))
            ThreePointArc((-102.157637496, -22), (-100.986064621, -19.171572875), (-98.157637496, -18))
            Line((-98.157637496, -18), (-98.157637496, -6))
            ThreePointArc((-98.157637496, -6), (-100.986064621, -4.828427125), (-102.157637496, -2))
            Line((-102.157637496, -2), (-102.157637496, 0))
            Line((-102.157637496, 0), (-120.157637496, 0))
            Line((-120.157637496, 0), (-120.157637496, -2))
            ThreePointArc((-120.157637496, -2), (-121.329210371, -4.828427125), (-124.157637496, -6))
        make_face()
    extrude(amount=-CUT_EXTRUDE20_DEPTH, mode=Mode.SUBTRACT)

    # Sketch29 → Cut-Extrude21 (cut)
    with BuildSketch(Plane.XZ.offset(35)):
        with Locations((-113.074786595, -10.775057973)):
            Rectangle(SKETCH29_W, SKETCH29_H)
    extrude(amount=-CUT_EXTRUDE21_DEPTH, mode=Mode.SUBTRACT)

    # Sketch30 → Cut-Extrude22 (cut)
    with BuildSketch(Plane.XZ.offset(31.825)):
        with Locations(Location((-123.657637496, -2.5, 0), (0, 0, 270))):
            Circle(SKETCH30_R)
        with Locations(Location((-123.657637496, -21.5, 0), (0, 0, 270))):
            Circle(SKETCH30_R)
        with Locations(Location((-98.657637496, -21.5, 0), (0, 0, 270))):
            Circle(SKETCH30_R)
        with Locations(Location((-98.657637496, -2.5, 0), (0, 0, 270))):
            Circle(SKETCH30_R)
    extrude(amount=-CUT_EXTRUDE22_DEPTH, mode=Mode.SUBTRACT)

    # Sketch31 → Cut-Extrude23 (cut)
    with BuildSketch(Plane.XZ.offset(31.825)):
        with Locations((-124.157637496, -12)):
            Circle(SKETCH31_R)
    extrude(amount=-CUT_EXTRUDE23_DEPTH, mode=Mode.SUBTRACT)

    # Cut-Extrude24: up to this plane
    cut_extrude24_end = Plane(origin=(-108.083735041, -69.501, -43), z_dir=(-0.6294409626790586, 0, 0.7770483089883538))
    # Sketch32 → Cut-Extrude24 (cut, up to the surface)
    with BuildSketch(Plane.XY, mode=Mode.PRIVATE) as cut_extrude24_sk1:
        with Locations((-75, -27)):
            Circle(SKETCH32_R)
    cut_extrude24_tool1 = split(extrude(cut_extrude24_sk1.sketch, amount=-CUT_EXTRUDE24_REACH, mode=Mode.PRIVATE), bisect_by=cut_extrude24_end, keep=Keep.BOTH, mode=Mode.PRIVATE)
    add(cut_extrude24_tool1.solids().sort_by_distance((-75, -27, 0))[0], mode=Mode.SUBTRACT)

    # Boss-Extrude7: up to this face of the body (flat: up to its plane)
    boss_extrude7_end = Plane(part.part.faces().sort_by_distance((-74.148109144, -20.199881651, -15.510752824))[0])
    # Sketch34 → Boss-Extrude7 (add, up to the picked face)
    with BuildSketch(Plane(origin=(0, 0, -43), x_dir=(-1, 0, 0), z_dir=(0, 0, -1)), mode=Mode.PRIVATE) as boss_extrude7_sk1:
        with Locations((89.411207711, -21.75)):
            Rectangle(SKETCH34_W, SKETCH34_H)
    boss_extrude7_tool1 = split(extrude(boss_extrude7_sk1.sketch, amount=-BOSS_EXTRUDE7_REACH, mode=Mode.PRIVATE), bisect_by=boss_extrude7_end, keep=Keep.BOTH, mode=Mode.PRIVATE)
    add(boss_extrude7_tool1.solids().sort_by(Axis((-89.411208, -21.75, -43), (0, 0, 1)))[0])

    # Chamfer2
    chamfer2_edges = [part.edges().sort_by_distance(p)[0] for p in [
        (-196.392135624, -28.357864376, -43),
        (-196.392135624, -56.642135624, -43),
        (-168.107864376, -56.642135624, -43),
        (-165.509514806, -26.13499403, -43),
    ]]
    chamfer(chamfer2_edges, length=CHAMFER2_SIZE)

    # Chamfer3
    chamfer3_edges = [part.edges().sort_by_distance(p)[0] for p in [
        (-93.083735041, -43, -33),
    ]]
    chamfer(chamfer3_edges, length=CHAMFER3_SIZE)

    # Chamfer4
    chamfer4_edges = [part.edges().sort_by_distance(p)[0] for p in [
        (-144.5, 0, -43),
        (-205.188195696, -52.223929122, -43),
        (-173.488470238, -9.15089986, -43),
        (-135, -6, -33),
        (-129.258467146, -22.992390109, -33),
        (-104.620686268, -35, -33),
        (-205.188195696, -52.223929122, -33),
        (-173.488470238, -9.15089986, -33),
        (-145, 0, -33),
        (-193.5, -42.5, -33),
        (-140.346799298, -59.287648008, -43),
        (-135, 0, -16.5),
        (-132.828427125, -7.328427125, -43),
        (-134, -2.25, -43),
        (-106.54186752, -8.5, -43),
        (-140.346799298, -59.287648008, -33),
        (-83.083735041, -28.303177637, -43),
        (-96.583735041, -50.106355273, -43),
        (-83.669521478, -49.520568836, -43),
    ]]
    chamfer(chamfer4_edges, length=CHAMFER4_SIZE)

    # Chamfer6
    chamfer6_edges = [part.edges().sort_by_distance(p)[0] for p in [
        (-111.157637496, -35, -24),
        (-96.157637496, -35, -12),
    ]]
    chamfer(chamfer6_edges, length=CHAMFER6_SIZE)


solid = part.part
